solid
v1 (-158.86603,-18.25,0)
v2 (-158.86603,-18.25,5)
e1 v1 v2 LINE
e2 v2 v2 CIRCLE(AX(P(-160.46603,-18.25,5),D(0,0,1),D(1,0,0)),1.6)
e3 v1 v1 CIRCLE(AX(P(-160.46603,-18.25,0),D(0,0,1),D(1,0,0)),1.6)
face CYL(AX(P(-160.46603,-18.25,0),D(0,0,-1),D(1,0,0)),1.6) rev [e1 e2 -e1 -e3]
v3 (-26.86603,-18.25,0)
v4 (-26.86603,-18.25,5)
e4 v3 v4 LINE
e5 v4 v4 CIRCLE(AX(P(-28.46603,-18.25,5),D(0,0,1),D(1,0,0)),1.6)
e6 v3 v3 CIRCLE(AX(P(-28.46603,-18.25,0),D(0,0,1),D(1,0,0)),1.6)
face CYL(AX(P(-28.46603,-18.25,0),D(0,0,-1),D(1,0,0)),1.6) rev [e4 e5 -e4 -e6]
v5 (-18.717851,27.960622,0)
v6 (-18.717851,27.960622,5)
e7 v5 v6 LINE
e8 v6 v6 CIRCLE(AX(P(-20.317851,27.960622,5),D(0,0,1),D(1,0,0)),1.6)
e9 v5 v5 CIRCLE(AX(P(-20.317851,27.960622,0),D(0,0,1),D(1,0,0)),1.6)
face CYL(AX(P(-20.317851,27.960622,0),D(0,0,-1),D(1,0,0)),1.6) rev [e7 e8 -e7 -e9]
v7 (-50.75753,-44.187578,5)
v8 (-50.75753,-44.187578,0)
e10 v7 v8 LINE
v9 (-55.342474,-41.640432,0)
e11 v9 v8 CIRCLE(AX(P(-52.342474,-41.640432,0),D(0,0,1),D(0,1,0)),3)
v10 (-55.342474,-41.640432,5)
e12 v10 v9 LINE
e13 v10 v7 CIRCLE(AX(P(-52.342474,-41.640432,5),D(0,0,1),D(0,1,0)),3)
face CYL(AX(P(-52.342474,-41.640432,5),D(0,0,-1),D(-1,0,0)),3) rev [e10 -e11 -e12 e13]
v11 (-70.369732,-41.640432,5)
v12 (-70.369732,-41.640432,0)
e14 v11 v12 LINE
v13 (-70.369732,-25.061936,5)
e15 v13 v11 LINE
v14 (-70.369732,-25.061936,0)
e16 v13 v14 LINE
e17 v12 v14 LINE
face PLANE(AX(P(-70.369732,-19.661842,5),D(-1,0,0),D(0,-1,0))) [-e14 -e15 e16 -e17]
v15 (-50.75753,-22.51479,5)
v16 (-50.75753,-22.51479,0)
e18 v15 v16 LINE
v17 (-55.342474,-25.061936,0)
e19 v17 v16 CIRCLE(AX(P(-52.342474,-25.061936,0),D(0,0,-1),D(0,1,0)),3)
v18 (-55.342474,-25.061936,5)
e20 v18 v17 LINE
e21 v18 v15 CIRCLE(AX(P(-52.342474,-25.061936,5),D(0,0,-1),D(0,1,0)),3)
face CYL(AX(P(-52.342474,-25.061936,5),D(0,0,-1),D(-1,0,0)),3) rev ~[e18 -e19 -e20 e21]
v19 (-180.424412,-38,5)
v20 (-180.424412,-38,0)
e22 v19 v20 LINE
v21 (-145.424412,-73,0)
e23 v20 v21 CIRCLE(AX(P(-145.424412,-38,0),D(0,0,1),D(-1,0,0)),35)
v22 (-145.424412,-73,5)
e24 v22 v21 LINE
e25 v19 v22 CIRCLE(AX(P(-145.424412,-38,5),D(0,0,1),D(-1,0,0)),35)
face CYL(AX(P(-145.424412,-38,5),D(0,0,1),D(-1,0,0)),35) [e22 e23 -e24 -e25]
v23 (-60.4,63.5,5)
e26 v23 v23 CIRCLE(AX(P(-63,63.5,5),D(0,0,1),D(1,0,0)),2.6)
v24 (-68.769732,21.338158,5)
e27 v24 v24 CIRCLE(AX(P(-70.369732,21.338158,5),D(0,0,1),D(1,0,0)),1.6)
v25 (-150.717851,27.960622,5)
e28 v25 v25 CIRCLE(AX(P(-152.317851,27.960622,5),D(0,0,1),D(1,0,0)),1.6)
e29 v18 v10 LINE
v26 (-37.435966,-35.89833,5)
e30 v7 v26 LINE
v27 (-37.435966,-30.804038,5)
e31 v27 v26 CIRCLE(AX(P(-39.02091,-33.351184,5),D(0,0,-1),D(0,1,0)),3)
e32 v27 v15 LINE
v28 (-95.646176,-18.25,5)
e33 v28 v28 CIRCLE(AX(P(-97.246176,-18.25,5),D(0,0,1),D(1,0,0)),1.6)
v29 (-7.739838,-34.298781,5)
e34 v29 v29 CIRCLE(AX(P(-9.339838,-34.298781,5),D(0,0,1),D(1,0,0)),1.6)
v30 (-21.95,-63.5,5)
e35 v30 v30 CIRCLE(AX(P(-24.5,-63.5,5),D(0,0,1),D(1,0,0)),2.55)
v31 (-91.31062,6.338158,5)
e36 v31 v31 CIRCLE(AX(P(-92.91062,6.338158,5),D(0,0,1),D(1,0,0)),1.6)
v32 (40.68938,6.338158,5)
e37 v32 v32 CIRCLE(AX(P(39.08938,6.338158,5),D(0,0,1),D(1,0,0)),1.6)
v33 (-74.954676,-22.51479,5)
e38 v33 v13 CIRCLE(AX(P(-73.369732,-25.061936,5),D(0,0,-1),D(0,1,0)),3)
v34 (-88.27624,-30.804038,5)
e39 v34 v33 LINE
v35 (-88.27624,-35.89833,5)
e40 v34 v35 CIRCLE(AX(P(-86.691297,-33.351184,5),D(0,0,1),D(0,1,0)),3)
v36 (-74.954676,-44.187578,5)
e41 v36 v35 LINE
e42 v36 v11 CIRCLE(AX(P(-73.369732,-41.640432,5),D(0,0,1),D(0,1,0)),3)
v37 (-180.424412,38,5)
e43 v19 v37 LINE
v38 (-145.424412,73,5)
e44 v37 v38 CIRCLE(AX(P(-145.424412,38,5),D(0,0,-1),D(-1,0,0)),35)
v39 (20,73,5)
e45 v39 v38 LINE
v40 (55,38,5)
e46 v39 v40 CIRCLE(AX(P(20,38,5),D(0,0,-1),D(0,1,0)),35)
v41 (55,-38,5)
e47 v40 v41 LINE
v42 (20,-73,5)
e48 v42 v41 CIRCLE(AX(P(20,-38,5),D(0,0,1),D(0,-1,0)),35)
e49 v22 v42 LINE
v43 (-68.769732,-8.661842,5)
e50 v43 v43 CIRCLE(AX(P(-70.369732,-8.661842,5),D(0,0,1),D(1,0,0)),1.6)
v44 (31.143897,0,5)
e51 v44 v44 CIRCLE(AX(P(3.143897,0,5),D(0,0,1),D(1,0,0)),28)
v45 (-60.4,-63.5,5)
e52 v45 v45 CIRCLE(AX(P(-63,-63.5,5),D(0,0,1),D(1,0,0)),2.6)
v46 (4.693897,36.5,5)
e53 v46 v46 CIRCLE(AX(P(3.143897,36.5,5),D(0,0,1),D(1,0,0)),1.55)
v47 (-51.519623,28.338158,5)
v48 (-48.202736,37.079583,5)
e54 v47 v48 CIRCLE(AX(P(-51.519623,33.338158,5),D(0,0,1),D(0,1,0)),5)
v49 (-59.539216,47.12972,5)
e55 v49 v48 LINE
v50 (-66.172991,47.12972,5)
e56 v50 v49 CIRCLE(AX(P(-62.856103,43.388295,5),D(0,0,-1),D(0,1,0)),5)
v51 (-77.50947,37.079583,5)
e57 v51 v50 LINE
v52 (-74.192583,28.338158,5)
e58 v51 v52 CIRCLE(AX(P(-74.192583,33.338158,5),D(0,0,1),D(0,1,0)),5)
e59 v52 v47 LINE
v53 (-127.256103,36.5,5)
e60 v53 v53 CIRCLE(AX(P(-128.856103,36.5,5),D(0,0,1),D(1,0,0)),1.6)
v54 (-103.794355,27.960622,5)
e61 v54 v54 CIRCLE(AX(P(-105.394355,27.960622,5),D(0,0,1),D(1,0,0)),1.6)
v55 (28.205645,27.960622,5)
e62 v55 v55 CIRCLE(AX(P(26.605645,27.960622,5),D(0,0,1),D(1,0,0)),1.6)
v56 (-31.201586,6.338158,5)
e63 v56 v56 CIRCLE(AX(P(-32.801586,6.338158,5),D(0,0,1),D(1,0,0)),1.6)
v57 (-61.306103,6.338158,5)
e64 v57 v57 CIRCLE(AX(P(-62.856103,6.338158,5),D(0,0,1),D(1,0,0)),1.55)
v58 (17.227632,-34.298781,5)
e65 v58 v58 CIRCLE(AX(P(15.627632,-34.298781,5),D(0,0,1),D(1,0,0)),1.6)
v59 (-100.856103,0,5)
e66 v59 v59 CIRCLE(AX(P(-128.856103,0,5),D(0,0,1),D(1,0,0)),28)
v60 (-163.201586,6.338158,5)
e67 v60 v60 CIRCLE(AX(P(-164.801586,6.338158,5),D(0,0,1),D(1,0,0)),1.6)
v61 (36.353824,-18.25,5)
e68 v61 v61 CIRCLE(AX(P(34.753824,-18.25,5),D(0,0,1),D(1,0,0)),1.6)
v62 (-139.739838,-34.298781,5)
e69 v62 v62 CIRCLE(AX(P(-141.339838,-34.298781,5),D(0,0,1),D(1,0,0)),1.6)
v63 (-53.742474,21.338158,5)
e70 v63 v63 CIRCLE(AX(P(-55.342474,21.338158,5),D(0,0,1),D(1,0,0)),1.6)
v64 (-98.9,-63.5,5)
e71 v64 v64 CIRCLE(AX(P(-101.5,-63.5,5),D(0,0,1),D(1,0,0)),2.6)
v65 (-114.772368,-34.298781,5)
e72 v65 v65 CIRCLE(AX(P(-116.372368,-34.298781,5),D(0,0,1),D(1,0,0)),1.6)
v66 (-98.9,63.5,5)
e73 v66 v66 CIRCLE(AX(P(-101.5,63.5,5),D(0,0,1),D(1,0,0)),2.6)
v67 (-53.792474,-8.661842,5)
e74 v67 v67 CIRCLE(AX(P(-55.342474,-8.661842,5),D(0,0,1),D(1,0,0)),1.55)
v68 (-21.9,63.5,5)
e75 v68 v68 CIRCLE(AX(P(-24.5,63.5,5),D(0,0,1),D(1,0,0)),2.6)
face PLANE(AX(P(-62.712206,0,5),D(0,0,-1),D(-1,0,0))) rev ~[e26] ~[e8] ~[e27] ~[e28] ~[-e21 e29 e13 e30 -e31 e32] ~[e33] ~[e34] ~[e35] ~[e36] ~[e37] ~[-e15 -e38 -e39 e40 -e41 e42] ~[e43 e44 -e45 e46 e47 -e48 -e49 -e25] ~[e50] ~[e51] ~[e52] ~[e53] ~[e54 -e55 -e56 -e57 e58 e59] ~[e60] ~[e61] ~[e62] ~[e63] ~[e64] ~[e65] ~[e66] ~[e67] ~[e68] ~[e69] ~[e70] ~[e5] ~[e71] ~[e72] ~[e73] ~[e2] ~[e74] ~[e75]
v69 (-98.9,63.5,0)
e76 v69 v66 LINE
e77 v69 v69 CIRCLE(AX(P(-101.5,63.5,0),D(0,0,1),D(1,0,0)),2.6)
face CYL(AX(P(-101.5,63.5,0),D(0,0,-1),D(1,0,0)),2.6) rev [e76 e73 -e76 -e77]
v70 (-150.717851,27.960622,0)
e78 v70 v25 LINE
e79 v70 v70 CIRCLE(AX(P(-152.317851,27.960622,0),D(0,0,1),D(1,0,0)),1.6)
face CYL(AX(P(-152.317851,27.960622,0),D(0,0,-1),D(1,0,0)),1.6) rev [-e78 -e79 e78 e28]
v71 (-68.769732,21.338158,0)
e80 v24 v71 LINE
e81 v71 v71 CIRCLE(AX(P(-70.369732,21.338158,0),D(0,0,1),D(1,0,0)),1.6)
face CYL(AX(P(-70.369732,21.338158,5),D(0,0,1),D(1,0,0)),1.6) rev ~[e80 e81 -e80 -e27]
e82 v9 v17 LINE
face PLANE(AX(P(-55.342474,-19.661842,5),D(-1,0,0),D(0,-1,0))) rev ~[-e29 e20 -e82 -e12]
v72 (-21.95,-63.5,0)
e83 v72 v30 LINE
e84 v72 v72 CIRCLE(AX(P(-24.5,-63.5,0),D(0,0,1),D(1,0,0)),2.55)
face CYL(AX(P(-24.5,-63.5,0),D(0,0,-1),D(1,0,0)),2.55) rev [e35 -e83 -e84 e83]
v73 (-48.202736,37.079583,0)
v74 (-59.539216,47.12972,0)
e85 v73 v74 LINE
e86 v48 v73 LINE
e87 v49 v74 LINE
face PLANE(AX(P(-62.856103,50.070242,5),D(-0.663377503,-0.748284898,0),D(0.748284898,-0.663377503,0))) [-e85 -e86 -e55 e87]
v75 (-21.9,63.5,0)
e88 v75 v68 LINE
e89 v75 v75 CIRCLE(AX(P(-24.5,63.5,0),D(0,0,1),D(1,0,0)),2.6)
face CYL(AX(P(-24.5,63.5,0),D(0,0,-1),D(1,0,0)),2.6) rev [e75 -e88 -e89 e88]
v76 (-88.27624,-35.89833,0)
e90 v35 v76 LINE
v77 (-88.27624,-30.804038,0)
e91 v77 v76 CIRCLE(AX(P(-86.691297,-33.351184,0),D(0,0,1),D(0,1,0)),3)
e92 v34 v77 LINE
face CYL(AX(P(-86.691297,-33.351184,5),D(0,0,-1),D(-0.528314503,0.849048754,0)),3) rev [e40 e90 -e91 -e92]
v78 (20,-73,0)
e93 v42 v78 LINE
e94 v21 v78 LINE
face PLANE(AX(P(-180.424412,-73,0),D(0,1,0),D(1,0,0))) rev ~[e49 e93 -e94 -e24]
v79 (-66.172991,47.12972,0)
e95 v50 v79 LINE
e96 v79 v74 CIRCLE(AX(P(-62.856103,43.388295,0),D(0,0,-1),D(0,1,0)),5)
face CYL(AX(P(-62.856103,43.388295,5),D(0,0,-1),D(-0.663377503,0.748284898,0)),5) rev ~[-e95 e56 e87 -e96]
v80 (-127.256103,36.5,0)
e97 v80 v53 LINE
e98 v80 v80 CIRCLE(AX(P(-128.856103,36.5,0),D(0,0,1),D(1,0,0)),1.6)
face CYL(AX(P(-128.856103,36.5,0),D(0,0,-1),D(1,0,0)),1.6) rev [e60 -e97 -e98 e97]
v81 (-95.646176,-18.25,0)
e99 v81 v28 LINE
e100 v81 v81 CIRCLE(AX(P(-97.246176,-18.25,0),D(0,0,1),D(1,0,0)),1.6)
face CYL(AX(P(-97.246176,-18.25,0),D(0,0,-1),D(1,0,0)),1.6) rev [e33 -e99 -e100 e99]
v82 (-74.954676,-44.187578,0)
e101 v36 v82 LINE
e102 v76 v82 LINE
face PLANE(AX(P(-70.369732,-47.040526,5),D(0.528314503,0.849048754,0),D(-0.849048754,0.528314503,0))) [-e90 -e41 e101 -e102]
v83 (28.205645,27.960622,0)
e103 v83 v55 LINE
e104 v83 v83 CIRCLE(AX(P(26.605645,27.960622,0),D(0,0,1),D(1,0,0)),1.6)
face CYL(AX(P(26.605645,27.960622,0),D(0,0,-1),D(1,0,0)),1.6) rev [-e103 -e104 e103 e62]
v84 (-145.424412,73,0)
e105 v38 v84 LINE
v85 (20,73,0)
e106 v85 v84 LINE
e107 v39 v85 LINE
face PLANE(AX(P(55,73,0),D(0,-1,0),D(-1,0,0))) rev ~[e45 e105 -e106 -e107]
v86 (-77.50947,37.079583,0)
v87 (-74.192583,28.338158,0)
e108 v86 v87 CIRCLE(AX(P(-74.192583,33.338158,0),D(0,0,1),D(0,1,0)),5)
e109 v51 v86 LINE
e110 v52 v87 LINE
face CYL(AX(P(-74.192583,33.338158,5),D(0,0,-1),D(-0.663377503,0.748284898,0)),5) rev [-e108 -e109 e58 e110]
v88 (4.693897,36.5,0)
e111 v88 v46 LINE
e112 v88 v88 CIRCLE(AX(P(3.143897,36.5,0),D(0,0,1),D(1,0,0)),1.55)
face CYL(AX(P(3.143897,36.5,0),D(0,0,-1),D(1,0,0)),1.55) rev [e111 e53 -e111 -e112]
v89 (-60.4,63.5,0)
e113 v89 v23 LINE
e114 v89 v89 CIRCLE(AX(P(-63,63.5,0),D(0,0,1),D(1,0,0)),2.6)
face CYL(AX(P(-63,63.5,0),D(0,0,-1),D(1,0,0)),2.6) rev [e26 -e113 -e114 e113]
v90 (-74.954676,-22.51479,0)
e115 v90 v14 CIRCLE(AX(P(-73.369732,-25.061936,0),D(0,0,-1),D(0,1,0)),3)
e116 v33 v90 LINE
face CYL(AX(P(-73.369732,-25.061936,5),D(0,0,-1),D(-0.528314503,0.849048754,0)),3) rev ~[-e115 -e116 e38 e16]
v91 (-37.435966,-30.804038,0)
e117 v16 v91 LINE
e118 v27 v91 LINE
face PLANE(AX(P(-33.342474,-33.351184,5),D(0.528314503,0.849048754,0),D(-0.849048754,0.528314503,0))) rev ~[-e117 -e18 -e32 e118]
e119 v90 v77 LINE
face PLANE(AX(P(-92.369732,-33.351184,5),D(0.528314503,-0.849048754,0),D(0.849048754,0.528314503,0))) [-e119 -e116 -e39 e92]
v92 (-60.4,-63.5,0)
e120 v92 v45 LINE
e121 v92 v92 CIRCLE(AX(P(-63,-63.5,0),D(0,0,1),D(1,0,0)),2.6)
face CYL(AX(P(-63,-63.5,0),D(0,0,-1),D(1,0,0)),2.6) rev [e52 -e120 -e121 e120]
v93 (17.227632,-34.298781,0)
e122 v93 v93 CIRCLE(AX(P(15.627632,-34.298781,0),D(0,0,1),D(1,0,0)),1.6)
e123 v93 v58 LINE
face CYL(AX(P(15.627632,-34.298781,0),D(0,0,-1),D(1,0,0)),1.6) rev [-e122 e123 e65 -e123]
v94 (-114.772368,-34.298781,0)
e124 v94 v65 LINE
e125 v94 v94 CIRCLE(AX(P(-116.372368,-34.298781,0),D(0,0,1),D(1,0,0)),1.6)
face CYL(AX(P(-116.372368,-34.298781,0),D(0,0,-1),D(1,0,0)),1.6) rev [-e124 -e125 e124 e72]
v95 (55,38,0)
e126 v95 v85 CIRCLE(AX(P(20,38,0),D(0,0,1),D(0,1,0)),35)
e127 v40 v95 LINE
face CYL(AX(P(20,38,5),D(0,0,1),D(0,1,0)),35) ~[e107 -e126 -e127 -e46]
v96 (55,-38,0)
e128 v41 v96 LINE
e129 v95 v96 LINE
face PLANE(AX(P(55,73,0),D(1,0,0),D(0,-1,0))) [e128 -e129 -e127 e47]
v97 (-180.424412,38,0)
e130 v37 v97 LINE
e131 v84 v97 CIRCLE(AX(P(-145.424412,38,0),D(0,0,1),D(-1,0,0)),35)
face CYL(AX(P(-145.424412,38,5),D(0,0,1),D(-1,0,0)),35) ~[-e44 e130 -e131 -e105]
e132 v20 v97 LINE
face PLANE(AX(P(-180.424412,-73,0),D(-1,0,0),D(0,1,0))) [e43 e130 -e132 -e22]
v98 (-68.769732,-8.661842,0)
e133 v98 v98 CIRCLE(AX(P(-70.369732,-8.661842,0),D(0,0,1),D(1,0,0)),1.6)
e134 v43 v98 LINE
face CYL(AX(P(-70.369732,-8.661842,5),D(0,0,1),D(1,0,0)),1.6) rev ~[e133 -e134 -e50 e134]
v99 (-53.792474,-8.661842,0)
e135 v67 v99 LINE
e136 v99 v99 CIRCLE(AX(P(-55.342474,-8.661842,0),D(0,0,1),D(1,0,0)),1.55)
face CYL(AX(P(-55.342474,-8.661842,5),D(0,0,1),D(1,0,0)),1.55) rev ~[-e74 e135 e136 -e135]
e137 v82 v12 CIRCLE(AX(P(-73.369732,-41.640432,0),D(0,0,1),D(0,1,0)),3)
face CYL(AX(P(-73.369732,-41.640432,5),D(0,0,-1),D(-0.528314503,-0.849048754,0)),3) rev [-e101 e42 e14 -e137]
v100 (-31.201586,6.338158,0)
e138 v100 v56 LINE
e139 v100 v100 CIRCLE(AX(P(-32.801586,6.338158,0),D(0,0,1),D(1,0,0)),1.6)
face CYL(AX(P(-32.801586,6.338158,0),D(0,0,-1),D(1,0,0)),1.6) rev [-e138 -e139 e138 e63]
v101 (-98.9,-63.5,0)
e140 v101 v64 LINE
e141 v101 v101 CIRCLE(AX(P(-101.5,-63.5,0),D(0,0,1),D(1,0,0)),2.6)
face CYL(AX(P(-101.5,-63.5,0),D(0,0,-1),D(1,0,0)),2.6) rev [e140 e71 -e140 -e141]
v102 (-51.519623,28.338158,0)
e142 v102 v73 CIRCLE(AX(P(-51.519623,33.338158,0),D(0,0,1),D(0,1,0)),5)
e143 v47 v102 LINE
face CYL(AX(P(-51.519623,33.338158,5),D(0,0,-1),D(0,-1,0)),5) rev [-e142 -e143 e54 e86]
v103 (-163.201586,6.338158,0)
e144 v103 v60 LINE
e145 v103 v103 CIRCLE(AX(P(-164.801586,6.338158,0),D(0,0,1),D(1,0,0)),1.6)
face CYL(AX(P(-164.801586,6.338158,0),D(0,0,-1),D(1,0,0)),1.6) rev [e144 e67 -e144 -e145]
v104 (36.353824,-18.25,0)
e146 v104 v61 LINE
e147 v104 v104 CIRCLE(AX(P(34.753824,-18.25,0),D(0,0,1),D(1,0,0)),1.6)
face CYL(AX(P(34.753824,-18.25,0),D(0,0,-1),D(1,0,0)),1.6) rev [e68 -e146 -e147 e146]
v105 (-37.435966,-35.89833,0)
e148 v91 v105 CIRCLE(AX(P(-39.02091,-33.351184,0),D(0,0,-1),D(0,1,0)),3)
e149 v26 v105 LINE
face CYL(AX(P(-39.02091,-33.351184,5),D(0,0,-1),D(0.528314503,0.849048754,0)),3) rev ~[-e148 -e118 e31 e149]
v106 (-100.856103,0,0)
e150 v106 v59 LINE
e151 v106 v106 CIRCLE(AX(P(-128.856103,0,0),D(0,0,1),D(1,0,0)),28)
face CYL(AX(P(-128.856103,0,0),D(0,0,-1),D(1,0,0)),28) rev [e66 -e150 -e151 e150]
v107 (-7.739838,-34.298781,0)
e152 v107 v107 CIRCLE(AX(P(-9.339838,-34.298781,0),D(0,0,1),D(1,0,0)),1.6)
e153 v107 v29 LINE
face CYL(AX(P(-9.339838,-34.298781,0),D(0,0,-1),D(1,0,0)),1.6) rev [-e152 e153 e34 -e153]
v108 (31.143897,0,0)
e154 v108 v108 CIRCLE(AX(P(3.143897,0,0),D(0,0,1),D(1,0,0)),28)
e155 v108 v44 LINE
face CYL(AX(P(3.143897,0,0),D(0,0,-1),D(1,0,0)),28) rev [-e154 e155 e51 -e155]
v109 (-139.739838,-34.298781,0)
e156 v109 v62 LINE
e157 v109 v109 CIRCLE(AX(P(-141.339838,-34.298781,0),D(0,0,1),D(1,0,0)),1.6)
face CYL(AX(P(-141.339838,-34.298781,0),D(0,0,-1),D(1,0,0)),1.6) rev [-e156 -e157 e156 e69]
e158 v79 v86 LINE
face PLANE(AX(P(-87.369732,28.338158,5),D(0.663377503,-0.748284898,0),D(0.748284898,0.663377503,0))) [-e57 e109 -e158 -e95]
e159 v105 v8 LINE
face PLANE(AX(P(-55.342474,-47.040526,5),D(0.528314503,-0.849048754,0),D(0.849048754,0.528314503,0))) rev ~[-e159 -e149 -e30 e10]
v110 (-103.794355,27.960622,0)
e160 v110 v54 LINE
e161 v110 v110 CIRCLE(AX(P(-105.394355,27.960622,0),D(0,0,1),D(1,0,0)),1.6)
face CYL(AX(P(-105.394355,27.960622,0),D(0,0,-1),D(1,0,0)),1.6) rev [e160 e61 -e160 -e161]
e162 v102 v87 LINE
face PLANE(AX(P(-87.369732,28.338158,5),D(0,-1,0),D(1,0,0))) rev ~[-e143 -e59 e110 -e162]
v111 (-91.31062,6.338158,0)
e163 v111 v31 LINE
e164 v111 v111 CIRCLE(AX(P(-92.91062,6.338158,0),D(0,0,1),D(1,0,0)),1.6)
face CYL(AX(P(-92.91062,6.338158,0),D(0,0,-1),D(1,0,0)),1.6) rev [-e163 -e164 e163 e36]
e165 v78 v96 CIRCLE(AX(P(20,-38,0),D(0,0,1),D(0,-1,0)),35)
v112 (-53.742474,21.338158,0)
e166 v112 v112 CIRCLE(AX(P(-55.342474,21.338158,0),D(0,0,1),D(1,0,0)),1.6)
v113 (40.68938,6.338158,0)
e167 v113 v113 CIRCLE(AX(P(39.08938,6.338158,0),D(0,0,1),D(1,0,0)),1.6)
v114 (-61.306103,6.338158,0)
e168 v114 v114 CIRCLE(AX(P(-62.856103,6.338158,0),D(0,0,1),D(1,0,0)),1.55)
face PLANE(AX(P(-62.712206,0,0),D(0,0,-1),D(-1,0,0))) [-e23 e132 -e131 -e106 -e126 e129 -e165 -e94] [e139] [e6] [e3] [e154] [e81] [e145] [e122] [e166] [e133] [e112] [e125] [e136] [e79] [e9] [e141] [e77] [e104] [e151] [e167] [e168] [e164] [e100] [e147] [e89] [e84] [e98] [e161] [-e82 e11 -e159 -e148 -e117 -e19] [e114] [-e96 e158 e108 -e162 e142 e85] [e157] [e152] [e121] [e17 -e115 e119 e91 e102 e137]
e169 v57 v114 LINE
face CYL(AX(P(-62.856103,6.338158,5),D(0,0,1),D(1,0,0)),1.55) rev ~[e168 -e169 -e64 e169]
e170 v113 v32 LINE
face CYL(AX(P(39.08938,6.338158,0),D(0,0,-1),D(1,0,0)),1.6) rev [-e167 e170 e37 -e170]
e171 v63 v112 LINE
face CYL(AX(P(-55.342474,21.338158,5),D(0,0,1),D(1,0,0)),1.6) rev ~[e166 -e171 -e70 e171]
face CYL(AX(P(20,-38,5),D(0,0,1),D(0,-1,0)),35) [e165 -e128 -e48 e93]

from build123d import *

# Parameters (mm, degrees)
SKETCH_1_R          = 2.6
SKETCH_1_R_2        = 2.55
SKETCH_1_R_3        = 1.6
SKETCH_1_R_4        = 1.55
SKETCH_1_R_5        = 28
EXTRUDE_2_DEPTH     = 5
CUT_EXTRUDE_1_DEPTH = 10
SKETCH_4_R          = 1.6
SKETCH_4_R_2        = 1.55
CUT_EXTRUDE_2_DEPTH = 10
SKETCH_6_R          = 1.55
CUT_EXTRUDE_3_DEPTH = 10
FILLET_4_R          = 3
FILLET_5_R          = 3
FILLET_6_R          = 3
FILLET_7_R          = 3
FILLET_8_R          = 3
FILLET_9_R          = 3
FILLET_10_R         = 5
FILLET_11_R         = 5
FILLET_12_R         = 5


with BuildPart() as part:
    # 草图1 → 凸台-拉伸2 (new body)
    with BuildSketch(Plane.XY):
        Polygon((-63, 73), (47, 73), (55, 73), (55, -73), (47, -73), (-173, -73), (-180.424412423, -73), (-180.424412423, 73), (-172.424412423, 73), align=None)
        with Locations((-101.5, 63.5)):
            Circle(SKETCH_1_R, mode=Mode.SUBTRACT)
        with Locations((-63, 63.5)):
            Circle(SKETCH_1_R, mode=Mode.SUBTRACT)
        with Locations((-24.5, 63.5)):
            Circle(SKETCH_1_R, mode=Mode.SUBTRACT)
        with Locations((-24.5, -63.5)):
            Circle(SKETCH_1_R_2, mode=Mode.SUBTRACT)
        with Locations((-63, -63.5)):
            Circle(SKETCH_1_R, mode=Mode.SUBTRACT)
        with Locations((-101.5, -63.5)):
            Circle(SKETCH_1_R, mode=Mode.SUBTRACT)
        with Locations((-128.856103106, 36.5)):
            Circle(SKETCH_1_R_3, mode=Mode.SUBTRACT)
        with Locations((-152.317850859, 27.960622174)):
            Circle(SKETCH_1_R_3, mode=Mode.SUBTRACT)
        with Locations((-164.801586091, 6.338158485)):
            Circle(SKETCH_1_R_3, mode=Mode.SUBTRACT)
        with Locations((-160.466030344, -18.25)):
            Circle(SKETCH_1_R_3, mode=Mode.SUBTRACT)
        with Locations((-141.339838337, -34.298780659)):
            Circle(SKETCH_1_R_3, mode=Mode.SUBTRACT)
        with Locations((-116.372367874, -34.298780659)):
            Circle(SKETCH_1_R_3, mode=Mode.SUBTRACT)
        with Locations((-105.394355352, 27.960622174)):
            Circle(SKETCH_1_R_3, mode=Mode.SUBTRACT)
        with Locations((-92.910620121, 6.338158485)):
            Circle(SKETCH_1_R_3, mode=Mode.SUBTRACT)
        with Locations((-97.246175868, -18.25)):
            Circle(SKETCH_1_R_3, mode=Mode.SUBTRACT)
        with Locations((3.143896894, 36.5)):
            Circle(SKETCH_1_R_4, mode=Mode.SUBTRACT)
        with Locations((-20.317850859, 27.960622174)):
            Circle(SKETCH_1_R_3, mode=Mode.SUBTRACT)
        with Locations((-32.801586091, 6.338158485)):
            Circle(SKETCH_1_R_3, mode=Mode.SUBTRACT)
        with Locations((-28.466030344, -18.25)):
            Circle(SKETCH_1_R_3, mode=Mode.SUBTRACT)
        with Locations((-9.339838337, -34.298780659)):
            Circle(SKETCH_1_R_3, mode=Mode.SUBTRACT)
        with Locations((15.627632126, -34.298780659)):
            Circle(SKETCH_1_R_3, mode=Mode.SUBTRACT)
        with Locations((34.753824132, -18.25)):
            Circle(SKETCH_1_R_3, mode=Mode.SUBTRACT)
        with Locations((39.089379879, 6.338158485)):
            Circle(SKETCH_1_R_3, mode=Mode.SUBTRACT)
        with Locations((26.605644648, 27.960622174)):
            Circle(SKETCH_1_R_3, mode=Mode.SUBTRACT)
        with Locations((-128.856103106, 0)):
            Circle(SKETCH_1_R_5, mode=Mode.SUBTRACT)
        with Locations((3.143896894, 0)):
            Circle(SKETCH_1_R_5, mode=Mode.SUBTRACT)
    extrude(amount=EXTRUDE_2_DEPTH)

    # 草图3 → 切除-拉伸1 (cut)
    with BuildSketch(Plane.XY.offset(5)):
        with BuildLine():
            Line((-180.424412423, 73), (-180.424412423, 38))
            ThreePointArc((-180.424412423, 38), (-170.173149765, 62.748737342), (-145.424412423, 73))
            Line((-145.424412423, 73), (-180.424412423, 73))
        make_face()
        with BuildLine():
            Line((-180.424412423, -73), (-180.424412423, -38))
            ThreePointArc((-180.424412423, -38), (-170.173149765, -62.748737342), (-145.424412423, -73))
            Line((-145.424412423, -73), (-180.424412423, -73))
        make_face()
        with BuildLine():
            Line((55, 73), (20, 73))
            ThreePointArc((20, 73), (44.748737342, 62.748737342), (55, 38))
            Line((55, 38), (55, 73))
        make_face()
        with BuildLine():
            Line((55, -38), (55, -73))
            Line((55, -73), (20, -73))
            ThreePointArc((20, -73), (44.748737342, -62.748737342), (55, -38))
        make_face()
    extrude(amount=-CUT_EXTRUDE_1_DEPTH, mode=Mode.SUBTRACT)

    # 草图4 → 切除-拉伸2 (cut)
    with BuildSketch(Plane.XY.offset(5)):
        with Locations((-70.36973236, 21.338158485)):
            Circle(SKETCH_4_R)
        with Locations((-55.342473852, 21.338158485)):
            Circle(SKETCH_4_R)
        with Locations((-70.36973236, -8.661841515)):
            Circle(SKETCH_4_R)
        with Locations((-55.342473852, -8.661841515)):
            Circle(SKETCH_4_R_2)
    extrude(amount=-CUT_EXTRUDE_2_DEPTH, mode=Mode.SUBTRACT)

    # 草图6 → 切除-拉伸3 (cut)
    with BuildSketch(Plane.XY.offset(5)):
        with Locations((-62.856103106, 6.338158485)):
            Circle(SKETCH_6_R)
        Polygon((-82.36973236, 28.338158485), (-87.36973236, 28.338158485), (-62.856103106, 50.070242379), (-38.342473852, 28.338158485), (-43.342473852, 28.338158485), align=None)
        Polygon((-70.36973236, -19.661841515), (-70.36973236, -47.040526198), (-92.36973236, -33.351183857), align=None)
        Polygon((-55.342473852, -19.661841515), (-55.342473852, -47.040526198), (-33.342473852, -33.351183857), align=None)
    extrude(amount=-CUT_EXTRUDE_3_DEPTH, mode=Mode.SUBTRACT)

    # 圆角4
    fillet_4_edges = [part.edges().sort_by_distance(p)[0] for p in [
        (-70.36973236, -19.661841515, 2.5),
    ]]
    fillet(fillet_4_edges, radius=FILLET_4_R)

    # 圆角5
    fillet_5_edges = [part.edges().sort_by_distance(p)[0] for p in [
        (-92.36973236, -33.351183857, 2.5),
    ]]
    fillet(fillet_5_edges, radius=FILLET_5_R)

    # 圆角6
    fillet_6_edges = [part.edges().sort_by_distance(p)[0] for p in [
        (-70.36973236, -47.040526198, 2.5),
    ]]
    fillet(fillet_6_edges, radius=FILLET_6_R)

    # 圆角7
    fillet_7_edges = [part.edges().sort_by_distance(p)[0] for p in [
        (-55.342473852, -47.040526198, 2.5),
    ]]
    fillet(fillet_7_edges, radius=FILLET_7_R)

    # 圆角8
    fillet_8_edges = [part.edges().sort_by_distance(p)[0] for p in [
        (-55.342473852, -19.661841515, 2.5),
    ]]
    fillet(fillet_8_edges, radius=FILLET_8_R)

    # 圆角9
    fillet_9_edges = [part.edges().sort_by_distance(p)[0] for p in [
        (-33.342473852, -33.351183857, 2.5),
    ]]
    fillet(fillet_9_edges, radius=FILLET_9_R)

    # 圆角10
    fillet_10_edges = [part.edges().sort_by_distance(p)[0] for p in [
        (-62.856103106, 50.070242379, 2.5),
    ]]
    fillet(fillet_10_edges, radius=FILLET_10_R)

    # 圆角11
    fillet_11_edges = [part.edges().sort_by_distance(p)[0] for p in [
        (-87.36973236, 28.338158485, 2.5),
    ]]
    fillet(fillet_11_edges, radius=FILLET_11_R)

    # 圆角12
    fillet_12_edges = [part.edges().sort_by_distance(p)[0] for p in [
        (-38.342473852, 28.338158485, 2.5),
    ]]
    fillet(fillet_12_edges, radius=FILLET_12_R)


solid = part.part
